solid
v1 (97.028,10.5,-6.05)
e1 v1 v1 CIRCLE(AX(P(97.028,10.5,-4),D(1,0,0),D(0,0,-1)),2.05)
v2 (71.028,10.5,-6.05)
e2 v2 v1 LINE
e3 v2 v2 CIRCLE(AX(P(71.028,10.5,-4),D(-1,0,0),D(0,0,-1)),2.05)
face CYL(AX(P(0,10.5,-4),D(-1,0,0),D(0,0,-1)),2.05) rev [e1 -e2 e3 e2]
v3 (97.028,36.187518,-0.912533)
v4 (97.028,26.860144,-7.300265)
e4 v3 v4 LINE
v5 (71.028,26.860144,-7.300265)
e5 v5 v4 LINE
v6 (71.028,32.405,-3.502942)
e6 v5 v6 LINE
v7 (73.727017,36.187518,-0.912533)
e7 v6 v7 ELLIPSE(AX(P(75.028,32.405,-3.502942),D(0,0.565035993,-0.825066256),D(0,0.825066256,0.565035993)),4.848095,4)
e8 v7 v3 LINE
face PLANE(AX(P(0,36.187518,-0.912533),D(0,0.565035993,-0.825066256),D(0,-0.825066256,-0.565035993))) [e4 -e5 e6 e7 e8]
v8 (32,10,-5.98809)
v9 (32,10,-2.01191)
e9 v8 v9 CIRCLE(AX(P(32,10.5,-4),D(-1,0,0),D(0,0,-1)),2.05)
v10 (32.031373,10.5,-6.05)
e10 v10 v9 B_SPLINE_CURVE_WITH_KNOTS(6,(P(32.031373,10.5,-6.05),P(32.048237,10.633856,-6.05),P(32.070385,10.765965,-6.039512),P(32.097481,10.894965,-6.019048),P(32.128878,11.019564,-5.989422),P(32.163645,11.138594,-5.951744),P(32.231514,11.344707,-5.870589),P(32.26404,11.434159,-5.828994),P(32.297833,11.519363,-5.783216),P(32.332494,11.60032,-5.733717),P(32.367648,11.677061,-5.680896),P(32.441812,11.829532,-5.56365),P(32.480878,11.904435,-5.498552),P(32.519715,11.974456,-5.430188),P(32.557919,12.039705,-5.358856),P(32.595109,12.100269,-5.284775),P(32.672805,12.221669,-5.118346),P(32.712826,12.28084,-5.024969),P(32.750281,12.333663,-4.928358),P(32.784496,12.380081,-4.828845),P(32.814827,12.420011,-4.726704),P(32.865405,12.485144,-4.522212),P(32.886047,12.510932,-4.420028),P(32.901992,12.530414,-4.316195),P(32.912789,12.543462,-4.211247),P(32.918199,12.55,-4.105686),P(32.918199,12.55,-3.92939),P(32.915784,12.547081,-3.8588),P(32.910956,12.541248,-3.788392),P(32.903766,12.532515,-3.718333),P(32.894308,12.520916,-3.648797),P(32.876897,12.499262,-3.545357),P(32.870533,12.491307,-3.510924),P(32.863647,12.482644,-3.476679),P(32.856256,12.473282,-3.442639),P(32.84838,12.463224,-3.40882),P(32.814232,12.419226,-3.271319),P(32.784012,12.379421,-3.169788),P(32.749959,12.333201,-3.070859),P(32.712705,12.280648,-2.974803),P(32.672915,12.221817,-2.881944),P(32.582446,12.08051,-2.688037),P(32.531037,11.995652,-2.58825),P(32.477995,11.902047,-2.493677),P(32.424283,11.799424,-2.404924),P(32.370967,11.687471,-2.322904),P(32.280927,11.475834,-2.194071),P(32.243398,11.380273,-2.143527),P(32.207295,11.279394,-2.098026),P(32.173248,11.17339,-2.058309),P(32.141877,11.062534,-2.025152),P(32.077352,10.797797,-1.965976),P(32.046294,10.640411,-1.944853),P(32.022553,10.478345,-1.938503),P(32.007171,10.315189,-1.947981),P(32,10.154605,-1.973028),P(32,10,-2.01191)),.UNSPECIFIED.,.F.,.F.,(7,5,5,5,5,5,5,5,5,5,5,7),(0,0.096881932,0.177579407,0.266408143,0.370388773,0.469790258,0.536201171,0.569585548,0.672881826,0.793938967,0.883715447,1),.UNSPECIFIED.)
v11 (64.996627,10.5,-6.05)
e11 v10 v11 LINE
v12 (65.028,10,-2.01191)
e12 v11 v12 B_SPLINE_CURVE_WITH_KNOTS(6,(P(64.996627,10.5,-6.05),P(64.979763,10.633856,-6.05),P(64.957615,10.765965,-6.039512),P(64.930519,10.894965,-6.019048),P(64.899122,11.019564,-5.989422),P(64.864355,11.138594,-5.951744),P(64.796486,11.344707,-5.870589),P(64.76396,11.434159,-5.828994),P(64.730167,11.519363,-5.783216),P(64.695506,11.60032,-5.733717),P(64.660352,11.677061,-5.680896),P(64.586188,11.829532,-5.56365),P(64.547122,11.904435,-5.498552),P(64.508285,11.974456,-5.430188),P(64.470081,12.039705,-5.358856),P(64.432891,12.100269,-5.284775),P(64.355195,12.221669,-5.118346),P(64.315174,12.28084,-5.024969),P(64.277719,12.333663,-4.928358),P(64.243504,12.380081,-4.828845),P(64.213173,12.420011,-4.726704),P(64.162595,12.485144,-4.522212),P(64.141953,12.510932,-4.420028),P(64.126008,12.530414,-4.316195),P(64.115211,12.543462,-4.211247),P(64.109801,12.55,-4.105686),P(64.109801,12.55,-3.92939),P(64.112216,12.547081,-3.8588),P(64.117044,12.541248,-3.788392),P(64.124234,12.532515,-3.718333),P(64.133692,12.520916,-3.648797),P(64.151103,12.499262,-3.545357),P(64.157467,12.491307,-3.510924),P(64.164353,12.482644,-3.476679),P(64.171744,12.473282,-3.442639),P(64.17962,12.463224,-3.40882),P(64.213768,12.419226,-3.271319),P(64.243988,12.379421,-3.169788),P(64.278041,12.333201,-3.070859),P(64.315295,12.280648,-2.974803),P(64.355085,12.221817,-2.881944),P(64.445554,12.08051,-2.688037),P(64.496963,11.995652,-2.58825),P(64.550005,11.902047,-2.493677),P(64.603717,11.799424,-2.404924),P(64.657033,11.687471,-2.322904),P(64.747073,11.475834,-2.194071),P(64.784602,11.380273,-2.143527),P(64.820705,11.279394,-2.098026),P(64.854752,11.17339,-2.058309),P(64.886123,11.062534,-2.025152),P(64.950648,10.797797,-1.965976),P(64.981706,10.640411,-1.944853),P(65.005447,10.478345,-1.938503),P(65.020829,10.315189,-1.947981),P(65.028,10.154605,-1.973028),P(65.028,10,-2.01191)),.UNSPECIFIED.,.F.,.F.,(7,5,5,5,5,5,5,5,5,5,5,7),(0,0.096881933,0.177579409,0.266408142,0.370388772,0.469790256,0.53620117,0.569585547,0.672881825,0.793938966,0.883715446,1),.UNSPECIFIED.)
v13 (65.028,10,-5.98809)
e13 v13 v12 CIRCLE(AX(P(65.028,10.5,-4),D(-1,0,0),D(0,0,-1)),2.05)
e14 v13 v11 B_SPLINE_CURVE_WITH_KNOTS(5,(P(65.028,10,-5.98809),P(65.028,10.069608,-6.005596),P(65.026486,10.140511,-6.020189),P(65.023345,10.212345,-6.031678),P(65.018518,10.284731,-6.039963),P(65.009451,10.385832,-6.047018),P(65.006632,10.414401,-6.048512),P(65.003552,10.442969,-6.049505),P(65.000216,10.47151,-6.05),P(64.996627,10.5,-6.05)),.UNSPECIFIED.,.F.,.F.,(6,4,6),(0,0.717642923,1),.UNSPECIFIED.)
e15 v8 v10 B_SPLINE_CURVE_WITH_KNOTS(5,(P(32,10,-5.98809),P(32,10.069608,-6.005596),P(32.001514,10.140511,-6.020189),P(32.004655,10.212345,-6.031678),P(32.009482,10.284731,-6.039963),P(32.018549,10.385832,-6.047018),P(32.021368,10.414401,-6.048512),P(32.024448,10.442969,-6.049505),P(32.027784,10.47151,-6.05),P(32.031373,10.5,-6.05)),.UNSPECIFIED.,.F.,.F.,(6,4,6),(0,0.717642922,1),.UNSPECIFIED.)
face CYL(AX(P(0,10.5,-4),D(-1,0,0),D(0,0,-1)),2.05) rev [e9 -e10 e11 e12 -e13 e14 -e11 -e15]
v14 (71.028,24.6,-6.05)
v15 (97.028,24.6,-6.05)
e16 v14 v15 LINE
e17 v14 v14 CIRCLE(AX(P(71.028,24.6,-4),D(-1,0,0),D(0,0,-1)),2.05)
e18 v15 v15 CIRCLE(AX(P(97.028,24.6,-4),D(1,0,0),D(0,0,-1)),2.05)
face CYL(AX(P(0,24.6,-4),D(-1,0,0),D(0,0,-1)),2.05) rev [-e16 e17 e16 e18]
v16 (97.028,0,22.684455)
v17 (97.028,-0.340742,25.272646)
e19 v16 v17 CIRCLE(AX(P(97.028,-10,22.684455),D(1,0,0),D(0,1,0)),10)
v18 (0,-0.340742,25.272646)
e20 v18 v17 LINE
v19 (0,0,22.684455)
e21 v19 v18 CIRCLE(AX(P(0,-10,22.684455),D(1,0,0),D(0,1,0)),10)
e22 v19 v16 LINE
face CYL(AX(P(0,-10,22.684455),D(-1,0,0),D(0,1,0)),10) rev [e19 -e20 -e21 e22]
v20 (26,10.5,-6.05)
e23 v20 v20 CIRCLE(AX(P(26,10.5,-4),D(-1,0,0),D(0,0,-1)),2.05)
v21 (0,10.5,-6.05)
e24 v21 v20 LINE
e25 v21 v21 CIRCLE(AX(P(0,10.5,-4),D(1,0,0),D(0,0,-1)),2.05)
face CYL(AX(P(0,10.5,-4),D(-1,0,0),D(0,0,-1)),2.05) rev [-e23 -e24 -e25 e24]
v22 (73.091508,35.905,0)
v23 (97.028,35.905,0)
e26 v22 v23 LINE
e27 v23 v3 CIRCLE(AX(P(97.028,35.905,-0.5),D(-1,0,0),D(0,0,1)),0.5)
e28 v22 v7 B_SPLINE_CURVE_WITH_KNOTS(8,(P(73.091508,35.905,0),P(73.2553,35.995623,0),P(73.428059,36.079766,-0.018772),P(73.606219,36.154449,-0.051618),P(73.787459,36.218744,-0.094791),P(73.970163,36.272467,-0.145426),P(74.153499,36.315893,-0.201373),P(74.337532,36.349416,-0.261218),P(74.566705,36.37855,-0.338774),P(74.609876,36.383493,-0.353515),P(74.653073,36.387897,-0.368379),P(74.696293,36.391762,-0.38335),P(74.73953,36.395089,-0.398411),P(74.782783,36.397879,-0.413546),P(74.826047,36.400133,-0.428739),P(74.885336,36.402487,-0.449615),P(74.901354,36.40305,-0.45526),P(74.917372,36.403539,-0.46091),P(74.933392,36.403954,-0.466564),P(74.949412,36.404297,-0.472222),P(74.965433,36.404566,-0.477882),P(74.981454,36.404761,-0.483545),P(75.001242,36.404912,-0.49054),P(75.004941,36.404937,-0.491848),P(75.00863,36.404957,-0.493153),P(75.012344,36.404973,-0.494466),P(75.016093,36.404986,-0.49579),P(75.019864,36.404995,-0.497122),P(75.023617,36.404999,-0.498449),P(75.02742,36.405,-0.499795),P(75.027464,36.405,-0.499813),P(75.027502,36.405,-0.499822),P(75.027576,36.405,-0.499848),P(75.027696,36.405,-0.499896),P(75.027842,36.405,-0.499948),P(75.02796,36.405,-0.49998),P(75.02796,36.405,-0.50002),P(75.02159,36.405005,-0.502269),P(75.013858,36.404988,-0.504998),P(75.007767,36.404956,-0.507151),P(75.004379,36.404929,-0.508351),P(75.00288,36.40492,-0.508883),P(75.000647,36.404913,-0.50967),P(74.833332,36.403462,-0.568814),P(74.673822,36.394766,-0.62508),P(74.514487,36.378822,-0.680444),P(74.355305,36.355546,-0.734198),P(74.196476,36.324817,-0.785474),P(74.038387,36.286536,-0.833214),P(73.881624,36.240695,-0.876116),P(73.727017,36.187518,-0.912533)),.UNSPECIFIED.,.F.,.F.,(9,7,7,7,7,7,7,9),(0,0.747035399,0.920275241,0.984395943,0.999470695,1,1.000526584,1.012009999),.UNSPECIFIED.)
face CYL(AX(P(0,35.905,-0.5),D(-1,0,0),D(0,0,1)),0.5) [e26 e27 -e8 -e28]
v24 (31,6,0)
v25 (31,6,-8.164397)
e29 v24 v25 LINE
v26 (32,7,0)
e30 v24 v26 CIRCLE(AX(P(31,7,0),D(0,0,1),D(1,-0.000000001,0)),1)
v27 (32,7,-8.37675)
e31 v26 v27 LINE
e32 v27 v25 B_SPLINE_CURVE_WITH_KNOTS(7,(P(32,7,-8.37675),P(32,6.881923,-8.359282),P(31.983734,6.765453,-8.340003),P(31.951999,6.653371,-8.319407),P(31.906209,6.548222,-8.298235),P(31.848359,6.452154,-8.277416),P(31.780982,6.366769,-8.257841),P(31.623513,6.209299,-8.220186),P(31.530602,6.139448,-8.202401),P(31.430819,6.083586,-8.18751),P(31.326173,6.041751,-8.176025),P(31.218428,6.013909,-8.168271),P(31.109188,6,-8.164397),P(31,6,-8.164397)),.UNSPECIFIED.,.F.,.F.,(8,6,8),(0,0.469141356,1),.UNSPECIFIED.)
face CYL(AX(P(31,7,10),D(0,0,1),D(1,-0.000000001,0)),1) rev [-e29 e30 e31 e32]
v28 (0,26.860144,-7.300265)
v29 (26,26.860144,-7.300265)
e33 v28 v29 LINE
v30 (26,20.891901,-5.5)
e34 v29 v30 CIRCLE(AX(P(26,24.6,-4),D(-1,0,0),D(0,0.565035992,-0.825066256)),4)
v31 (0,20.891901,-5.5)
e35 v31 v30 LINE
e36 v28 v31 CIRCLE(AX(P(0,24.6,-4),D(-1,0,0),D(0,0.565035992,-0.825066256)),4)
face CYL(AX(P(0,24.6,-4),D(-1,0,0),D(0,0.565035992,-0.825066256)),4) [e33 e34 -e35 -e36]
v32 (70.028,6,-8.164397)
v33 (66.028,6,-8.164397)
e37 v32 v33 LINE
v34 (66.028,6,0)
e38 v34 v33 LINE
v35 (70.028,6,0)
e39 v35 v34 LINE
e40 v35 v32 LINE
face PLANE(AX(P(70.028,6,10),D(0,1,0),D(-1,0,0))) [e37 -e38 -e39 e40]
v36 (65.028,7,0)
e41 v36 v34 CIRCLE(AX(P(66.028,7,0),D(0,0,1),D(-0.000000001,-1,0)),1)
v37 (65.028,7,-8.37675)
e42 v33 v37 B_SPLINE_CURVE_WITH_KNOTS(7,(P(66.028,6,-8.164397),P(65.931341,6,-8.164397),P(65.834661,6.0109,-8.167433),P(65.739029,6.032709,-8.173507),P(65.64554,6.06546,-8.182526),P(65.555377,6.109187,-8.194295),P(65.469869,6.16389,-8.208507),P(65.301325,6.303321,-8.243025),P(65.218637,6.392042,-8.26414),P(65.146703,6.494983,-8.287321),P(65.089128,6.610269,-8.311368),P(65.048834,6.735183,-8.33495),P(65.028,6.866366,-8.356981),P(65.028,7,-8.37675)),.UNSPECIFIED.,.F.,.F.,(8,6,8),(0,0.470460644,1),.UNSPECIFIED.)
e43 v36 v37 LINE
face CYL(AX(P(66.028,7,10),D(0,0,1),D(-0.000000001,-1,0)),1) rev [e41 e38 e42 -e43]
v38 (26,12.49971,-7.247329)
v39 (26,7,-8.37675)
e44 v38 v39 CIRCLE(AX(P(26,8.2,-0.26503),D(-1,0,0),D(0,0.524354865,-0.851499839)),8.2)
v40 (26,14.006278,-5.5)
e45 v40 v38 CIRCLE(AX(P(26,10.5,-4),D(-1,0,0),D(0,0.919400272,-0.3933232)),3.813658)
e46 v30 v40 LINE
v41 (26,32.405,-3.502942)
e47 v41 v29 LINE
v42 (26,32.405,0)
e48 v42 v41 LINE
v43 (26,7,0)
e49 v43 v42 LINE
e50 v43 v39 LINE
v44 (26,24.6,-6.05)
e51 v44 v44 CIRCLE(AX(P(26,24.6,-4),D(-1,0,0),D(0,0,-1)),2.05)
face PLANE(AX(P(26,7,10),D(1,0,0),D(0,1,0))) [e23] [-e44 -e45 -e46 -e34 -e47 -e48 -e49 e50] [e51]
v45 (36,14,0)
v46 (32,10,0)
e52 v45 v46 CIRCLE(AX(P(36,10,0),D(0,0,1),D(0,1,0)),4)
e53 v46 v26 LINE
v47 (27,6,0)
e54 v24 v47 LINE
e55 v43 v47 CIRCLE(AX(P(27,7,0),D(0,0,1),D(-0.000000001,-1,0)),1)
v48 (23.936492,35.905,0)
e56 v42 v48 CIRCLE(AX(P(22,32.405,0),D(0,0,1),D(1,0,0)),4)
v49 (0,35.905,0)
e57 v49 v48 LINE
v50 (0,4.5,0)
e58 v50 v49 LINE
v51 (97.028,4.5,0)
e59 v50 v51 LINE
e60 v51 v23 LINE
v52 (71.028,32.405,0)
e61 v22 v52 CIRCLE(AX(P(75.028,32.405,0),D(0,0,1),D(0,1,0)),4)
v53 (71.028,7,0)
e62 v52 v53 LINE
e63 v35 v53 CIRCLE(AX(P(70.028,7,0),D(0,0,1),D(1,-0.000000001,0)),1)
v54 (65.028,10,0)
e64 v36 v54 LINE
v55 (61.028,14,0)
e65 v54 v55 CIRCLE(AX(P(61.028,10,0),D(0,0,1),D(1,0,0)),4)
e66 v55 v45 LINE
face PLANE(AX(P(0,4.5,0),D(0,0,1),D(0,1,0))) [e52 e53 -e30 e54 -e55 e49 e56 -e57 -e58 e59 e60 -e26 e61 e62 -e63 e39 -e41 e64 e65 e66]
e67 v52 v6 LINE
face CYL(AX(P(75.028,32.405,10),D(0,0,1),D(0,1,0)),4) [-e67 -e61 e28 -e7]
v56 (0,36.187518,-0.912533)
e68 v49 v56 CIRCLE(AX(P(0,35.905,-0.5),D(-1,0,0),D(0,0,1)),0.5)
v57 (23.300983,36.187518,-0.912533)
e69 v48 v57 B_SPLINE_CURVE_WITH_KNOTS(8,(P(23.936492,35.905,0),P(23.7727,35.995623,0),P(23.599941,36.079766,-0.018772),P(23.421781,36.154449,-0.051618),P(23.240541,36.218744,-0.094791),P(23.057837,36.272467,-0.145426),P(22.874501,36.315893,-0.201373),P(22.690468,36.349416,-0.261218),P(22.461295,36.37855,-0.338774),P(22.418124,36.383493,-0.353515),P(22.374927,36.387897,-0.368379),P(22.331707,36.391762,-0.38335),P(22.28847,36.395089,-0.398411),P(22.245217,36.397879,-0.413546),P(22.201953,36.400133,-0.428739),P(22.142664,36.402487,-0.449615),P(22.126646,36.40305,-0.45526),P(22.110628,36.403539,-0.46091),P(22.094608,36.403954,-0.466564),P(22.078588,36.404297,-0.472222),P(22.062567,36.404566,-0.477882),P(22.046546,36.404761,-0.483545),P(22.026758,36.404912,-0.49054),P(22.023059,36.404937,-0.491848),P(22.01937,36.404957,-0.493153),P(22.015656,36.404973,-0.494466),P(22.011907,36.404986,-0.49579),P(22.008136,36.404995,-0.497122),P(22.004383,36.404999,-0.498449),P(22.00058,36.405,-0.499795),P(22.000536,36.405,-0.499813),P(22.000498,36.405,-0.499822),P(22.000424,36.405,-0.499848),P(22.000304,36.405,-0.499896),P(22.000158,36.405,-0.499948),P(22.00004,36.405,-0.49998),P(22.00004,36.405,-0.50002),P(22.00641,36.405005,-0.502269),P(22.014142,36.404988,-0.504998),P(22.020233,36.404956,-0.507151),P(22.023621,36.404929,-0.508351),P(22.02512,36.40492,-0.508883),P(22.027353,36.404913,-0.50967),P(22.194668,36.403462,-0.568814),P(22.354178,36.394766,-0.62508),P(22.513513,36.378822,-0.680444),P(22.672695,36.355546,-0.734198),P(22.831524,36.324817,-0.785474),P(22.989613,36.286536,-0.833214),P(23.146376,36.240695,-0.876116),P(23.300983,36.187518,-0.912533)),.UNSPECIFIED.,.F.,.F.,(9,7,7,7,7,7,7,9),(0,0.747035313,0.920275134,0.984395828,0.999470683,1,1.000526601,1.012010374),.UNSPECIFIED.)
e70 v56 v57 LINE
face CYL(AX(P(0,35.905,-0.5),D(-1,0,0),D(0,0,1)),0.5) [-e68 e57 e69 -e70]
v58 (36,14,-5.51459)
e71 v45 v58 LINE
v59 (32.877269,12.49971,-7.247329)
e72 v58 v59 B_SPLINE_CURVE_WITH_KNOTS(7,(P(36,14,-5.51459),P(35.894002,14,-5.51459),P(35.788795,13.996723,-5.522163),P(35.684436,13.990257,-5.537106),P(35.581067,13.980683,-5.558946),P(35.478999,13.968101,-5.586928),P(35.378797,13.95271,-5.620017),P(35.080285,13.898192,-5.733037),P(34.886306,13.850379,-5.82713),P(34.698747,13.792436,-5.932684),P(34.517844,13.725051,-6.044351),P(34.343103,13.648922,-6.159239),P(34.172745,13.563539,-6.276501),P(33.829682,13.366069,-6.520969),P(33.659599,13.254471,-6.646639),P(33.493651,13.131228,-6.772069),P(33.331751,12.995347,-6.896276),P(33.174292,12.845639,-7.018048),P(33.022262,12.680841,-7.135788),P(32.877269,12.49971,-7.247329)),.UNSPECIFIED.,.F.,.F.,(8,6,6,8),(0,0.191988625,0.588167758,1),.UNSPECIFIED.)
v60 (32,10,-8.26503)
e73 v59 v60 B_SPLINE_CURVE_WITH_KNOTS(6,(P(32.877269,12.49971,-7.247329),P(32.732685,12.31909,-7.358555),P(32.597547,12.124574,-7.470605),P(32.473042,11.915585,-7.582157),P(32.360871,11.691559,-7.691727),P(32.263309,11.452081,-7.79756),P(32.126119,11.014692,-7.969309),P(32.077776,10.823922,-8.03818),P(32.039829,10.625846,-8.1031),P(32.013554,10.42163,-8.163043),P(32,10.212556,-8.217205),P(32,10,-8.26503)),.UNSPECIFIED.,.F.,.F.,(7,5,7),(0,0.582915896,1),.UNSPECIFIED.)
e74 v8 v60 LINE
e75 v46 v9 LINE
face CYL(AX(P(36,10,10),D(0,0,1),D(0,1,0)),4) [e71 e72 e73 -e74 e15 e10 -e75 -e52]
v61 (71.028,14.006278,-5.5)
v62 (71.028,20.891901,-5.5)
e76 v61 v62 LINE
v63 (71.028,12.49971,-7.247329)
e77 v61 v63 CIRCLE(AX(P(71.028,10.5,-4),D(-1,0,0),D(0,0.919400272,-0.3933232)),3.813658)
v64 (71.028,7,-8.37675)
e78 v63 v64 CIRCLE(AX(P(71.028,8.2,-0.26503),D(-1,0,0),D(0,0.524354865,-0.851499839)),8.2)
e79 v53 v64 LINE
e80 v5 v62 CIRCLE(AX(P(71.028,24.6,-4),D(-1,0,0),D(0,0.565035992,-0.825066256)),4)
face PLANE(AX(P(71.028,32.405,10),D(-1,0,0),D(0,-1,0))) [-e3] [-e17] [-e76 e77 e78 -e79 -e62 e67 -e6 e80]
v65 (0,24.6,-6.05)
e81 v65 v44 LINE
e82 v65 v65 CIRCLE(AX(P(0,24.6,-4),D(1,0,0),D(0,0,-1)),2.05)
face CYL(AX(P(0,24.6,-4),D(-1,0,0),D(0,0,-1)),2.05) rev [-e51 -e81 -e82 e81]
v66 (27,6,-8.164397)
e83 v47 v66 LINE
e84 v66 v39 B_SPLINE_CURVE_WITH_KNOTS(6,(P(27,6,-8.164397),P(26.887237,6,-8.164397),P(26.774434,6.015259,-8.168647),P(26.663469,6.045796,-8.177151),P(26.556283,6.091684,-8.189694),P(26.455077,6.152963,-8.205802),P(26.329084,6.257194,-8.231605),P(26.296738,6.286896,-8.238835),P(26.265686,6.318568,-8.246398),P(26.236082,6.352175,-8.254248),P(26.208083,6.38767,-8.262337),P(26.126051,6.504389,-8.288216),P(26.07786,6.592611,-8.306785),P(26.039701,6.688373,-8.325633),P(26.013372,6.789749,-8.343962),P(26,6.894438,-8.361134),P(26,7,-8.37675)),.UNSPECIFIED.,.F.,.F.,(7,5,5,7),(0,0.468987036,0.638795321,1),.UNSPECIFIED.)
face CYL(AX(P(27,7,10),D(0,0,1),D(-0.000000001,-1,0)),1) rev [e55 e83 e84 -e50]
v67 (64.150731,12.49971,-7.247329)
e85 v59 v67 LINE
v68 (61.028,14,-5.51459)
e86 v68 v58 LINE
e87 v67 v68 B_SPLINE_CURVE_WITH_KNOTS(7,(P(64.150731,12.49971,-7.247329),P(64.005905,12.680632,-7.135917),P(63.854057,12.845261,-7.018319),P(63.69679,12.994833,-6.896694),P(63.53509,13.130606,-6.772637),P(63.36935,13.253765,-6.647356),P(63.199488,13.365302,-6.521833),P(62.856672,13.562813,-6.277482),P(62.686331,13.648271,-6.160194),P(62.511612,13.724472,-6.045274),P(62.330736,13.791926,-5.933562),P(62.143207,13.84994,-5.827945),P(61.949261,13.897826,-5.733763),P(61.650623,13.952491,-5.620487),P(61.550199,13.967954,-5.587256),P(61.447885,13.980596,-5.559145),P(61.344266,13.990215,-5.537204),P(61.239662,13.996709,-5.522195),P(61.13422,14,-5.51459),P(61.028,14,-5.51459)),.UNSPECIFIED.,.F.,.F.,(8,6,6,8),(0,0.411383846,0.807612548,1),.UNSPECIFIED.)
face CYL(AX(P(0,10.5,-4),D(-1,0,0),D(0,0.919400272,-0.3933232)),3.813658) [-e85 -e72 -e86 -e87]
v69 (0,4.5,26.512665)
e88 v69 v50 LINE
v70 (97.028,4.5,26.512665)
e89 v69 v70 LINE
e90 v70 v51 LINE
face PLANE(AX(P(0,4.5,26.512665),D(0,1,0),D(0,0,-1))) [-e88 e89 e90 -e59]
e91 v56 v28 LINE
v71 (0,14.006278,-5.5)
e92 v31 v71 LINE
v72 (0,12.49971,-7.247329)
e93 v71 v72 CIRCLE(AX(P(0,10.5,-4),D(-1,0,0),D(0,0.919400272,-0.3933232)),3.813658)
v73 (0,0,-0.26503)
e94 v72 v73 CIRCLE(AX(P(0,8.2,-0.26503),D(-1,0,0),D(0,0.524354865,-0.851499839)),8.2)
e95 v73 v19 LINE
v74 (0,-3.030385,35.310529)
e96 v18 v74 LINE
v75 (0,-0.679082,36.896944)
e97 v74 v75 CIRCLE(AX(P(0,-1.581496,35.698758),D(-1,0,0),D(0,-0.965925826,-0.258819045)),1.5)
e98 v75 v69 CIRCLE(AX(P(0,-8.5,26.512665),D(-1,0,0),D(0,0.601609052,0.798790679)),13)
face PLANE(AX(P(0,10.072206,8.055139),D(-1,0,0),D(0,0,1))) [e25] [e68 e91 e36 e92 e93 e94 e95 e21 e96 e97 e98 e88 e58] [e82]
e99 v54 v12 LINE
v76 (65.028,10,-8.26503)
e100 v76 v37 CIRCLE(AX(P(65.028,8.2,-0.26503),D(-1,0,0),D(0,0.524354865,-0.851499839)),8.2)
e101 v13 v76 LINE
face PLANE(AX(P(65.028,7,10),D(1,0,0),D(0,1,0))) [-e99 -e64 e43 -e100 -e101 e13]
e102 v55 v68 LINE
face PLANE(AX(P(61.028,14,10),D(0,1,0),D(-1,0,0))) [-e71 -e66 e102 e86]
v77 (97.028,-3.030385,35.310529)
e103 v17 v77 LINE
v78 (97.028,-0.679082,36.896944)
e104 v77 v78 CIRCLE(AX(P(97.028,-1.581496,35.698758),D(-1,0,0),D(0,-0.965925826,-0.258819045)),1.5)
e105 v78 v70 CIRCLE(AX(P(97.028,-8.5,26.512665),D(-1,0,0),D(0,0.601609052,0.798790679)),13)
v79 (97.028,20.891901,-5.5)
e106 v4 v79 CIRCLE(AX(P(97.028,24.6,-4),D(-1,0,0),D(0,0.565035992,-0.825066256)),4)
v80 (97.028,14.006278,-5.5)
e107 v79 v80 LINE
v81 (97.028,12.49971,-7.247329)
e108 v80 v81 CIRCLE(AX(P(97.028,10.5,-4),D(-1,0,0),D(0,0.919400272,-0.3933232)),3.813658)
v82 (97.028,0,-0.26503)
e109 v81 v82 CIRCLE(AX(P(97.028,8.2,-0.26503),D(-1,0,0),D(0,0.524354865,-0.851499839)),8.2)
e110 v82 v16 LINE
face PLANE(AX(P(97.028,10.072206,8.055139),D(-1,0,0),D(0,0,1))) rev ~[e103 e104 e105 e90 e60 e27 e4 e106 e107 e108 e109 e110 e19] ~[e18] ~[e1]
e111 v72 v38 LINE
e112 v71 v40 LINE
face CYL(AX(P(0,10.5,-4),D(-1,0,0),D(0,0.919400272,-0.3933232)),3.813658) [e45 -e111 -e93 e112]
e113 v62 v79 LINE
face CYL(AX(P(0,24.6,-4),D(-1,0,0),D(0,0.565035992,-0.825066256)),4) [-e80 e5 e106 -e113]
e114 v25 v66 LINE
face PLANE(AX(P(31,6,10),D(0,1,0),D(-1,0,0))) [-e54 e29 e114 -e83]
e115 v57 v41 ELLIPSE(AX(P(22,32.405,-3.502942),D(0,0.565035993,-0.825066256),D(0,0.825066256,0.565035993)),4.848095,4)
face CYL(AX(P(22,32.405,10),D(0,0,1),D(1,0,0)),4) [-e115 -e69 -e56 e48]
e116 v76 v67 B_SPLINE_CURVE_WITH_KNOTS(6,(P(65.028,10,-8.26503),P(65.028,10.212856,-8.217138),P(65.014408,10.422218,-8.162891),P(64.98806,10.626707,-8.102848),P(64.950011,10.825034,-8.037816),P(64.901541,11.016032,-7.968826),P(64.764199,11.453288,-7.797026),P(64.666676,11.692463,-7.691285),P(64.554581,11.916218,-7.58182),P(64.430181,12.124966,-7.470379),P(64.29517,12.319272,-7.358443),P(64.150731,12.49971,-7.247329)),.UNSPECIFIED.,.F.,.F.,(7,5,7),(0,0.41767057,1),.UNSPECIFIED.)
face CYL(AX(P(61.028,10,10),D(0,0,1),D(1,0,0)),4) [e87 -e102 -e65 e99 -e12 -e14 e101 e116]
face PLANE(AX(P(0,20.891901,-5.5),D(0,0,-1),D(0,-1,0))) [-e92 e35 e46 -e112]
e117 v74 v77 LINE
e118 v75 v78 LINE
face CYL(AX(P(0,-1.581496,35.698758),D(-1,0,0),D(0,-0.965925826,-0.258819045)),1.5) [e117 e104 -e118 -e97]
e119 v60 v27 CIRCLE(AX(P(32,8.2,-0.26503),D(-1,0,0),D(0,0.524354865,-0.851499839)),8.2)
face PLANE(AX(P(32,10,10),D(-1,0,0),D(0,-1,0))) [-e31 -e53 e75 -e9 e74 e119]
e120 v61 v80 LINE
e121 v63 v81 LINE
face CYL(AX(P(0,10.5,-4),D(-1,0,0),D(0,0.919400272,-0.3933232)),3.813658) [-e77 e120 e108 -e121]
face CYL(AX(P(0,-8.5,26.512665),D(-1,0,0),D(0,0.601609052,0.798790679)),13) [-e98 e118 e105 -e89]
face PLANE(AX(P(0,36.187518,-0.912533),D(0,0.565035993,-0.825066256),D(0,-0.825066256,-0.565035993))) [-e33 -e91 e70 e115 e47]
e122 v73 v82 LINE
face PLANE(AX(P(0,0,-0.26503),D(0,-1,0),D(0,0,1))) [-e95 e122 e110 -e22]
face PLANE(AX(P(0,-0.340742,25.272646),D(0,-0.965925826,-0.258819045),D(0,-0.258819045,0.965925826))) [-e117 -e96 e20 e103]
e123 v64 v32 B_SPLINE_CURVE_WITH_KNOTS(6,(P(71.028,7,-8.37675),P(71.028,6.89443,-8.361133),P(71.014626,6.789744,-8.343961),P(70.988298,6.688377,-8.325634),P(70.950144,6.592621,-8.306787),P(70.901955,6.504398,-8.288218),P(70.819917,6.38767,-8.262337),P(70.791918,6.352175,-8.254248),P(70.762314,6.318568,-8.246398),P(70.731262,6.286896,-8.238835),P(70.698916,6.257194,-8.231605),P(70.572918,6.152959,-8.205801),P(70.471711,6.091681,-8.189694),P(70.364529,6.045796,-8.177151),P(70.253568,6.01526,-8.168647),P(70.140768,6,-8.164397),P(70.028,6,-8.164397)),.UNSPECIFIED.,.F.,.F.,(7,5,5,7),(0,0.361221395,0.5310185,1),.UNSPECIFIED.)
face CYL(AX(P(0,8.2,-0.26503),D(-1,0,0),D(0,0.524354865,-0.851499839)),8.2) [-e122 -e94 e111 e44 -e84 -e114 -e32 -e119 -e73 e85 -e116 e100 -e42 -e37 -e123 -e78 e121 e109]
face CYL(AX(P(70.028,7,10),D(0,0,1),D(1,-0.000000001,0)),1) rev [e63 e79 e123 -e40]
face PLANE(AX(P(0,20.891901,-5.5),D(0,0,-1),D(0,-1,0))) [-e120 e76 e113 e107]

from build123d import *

# Parameters (mm, degrees)
SKETCH2_R           = 2.05
BOSS_EXTRUDE1_DEPTH = 97.028
CUT_EXTRUDE2_DEPTH  = 19.465030121


with BuildPart() as part:
    # Sketch2 → Boss-Extrude1 (new body)
    with BuildSketch(Plane(origin=(0, 0, 0), x_dir=(0, 0, -1), z_dir=(1, 0, 0))):
        with BuildLine():
            Line((-26.512665251, 4.5), (-3, 4.5))
            Line((-3, 4.5), (0, 4.5))
            Line((0, 4.5), (0, 7.5))
            Line((0, 7.5), (0, 35.905))
            ThreePointArc((0, 35.905), (0.352126006, 36.382632999), (0.912533128, 36.187517996))
            Line((0.912533128, 36.187517996), (7.300265025, 26.86014397))
            ThreePointArc((7.300265025, 26.86014397), (7.829571496, 23.444845397), (5.5, 20.891900756))
            Line((5.5, 20.891900756), (5.5, 14.006277796))
            ThreePointArc((5.5, 14.006277796), (6.490325157, 13.388297873), (7.247328797, 12.499709897))
            ThreePointArc((7.247328797, 12.499709897), (7.423857579, 4.201101474), (0.265030121, 0))
            Line((0.265030121, 0), (-22.684455065, 0))
            ThreePointArc((-22.684455065, 0), (-23.989716987, -0.085551386), (-25.272645516, -0.340741737))
            Line((-25.272645516, -0.340741737), (-35.31052949, -3.030384642))
            ThreePointArc((-35.31052949, -3.030384642), (-36.942206253, -2.420445594), (-36.896944076, -0.679082324))
            ThreePointArc((-36.896944076, -0.679082324), (-32.314736873, 3.133398682), (-26.512665251, 4.5))
        make_face()
        with Locations((4, 24.6)):
            Circle(SKETCH2_R, mode=Mode.SUBTRACT)
        with Locations((4, 10.5)):
            Circle(SKETCH2_R, mode=Mode.SUBTRACT)
    extrude(amount=BOSS_EXTRUDE1_DEPTH)

    # Sketch4 → Cut-Extrude2 (cut, through all)
    with BuildSketch(Plane.XY.offset(10)):
        with BuildLine():
            Line((26, 7), (26, 32.405))
            ThreePointArc((26, 32.405), (24.828427125, 35.233427125), (22, 36.405))
            Line((22, 36.405), (75.028, 36.405))
            ThreePointArc((75.028, 36.405), (72.199572875, 35.233427125), (71.028, 32.405))
            Line((71.028, 32.405), (71.028, 7))
            ThreePointArc((71.028, 7), (70.735106781, 6.292893219), (70.028, 6))
            Line((70.028, 6), (66.028, 6))
            ThreePointArc((66.028, 6), (65.320893219, 6.292893219), (65.028, 7))
            Line((65.028, 7), (65.028, 10))
            ThreePointArc((65.028, 10), (63.856427125, 12.828427125), (61.028, 14))
            Line((61.028, 14), (36, 14))
            ThreePointArc((36, 14), (33.171572875, 12.828427125), (32, 10))
            Line((32, 10), (32, 7))
            ThreePointArc((32, 7), (31.707106781, 6.292893219), (31, 6))
            Line((31, 6), (27, 6))
            ThreePointArc((27, 6), (26.292893219, 6.292893219), (26, 7))
        make_face()
    extrude(amount=-CUT_EXTRUDE2_DEPTH, mode=Mode.SUBTRACT)


solid = part.part
